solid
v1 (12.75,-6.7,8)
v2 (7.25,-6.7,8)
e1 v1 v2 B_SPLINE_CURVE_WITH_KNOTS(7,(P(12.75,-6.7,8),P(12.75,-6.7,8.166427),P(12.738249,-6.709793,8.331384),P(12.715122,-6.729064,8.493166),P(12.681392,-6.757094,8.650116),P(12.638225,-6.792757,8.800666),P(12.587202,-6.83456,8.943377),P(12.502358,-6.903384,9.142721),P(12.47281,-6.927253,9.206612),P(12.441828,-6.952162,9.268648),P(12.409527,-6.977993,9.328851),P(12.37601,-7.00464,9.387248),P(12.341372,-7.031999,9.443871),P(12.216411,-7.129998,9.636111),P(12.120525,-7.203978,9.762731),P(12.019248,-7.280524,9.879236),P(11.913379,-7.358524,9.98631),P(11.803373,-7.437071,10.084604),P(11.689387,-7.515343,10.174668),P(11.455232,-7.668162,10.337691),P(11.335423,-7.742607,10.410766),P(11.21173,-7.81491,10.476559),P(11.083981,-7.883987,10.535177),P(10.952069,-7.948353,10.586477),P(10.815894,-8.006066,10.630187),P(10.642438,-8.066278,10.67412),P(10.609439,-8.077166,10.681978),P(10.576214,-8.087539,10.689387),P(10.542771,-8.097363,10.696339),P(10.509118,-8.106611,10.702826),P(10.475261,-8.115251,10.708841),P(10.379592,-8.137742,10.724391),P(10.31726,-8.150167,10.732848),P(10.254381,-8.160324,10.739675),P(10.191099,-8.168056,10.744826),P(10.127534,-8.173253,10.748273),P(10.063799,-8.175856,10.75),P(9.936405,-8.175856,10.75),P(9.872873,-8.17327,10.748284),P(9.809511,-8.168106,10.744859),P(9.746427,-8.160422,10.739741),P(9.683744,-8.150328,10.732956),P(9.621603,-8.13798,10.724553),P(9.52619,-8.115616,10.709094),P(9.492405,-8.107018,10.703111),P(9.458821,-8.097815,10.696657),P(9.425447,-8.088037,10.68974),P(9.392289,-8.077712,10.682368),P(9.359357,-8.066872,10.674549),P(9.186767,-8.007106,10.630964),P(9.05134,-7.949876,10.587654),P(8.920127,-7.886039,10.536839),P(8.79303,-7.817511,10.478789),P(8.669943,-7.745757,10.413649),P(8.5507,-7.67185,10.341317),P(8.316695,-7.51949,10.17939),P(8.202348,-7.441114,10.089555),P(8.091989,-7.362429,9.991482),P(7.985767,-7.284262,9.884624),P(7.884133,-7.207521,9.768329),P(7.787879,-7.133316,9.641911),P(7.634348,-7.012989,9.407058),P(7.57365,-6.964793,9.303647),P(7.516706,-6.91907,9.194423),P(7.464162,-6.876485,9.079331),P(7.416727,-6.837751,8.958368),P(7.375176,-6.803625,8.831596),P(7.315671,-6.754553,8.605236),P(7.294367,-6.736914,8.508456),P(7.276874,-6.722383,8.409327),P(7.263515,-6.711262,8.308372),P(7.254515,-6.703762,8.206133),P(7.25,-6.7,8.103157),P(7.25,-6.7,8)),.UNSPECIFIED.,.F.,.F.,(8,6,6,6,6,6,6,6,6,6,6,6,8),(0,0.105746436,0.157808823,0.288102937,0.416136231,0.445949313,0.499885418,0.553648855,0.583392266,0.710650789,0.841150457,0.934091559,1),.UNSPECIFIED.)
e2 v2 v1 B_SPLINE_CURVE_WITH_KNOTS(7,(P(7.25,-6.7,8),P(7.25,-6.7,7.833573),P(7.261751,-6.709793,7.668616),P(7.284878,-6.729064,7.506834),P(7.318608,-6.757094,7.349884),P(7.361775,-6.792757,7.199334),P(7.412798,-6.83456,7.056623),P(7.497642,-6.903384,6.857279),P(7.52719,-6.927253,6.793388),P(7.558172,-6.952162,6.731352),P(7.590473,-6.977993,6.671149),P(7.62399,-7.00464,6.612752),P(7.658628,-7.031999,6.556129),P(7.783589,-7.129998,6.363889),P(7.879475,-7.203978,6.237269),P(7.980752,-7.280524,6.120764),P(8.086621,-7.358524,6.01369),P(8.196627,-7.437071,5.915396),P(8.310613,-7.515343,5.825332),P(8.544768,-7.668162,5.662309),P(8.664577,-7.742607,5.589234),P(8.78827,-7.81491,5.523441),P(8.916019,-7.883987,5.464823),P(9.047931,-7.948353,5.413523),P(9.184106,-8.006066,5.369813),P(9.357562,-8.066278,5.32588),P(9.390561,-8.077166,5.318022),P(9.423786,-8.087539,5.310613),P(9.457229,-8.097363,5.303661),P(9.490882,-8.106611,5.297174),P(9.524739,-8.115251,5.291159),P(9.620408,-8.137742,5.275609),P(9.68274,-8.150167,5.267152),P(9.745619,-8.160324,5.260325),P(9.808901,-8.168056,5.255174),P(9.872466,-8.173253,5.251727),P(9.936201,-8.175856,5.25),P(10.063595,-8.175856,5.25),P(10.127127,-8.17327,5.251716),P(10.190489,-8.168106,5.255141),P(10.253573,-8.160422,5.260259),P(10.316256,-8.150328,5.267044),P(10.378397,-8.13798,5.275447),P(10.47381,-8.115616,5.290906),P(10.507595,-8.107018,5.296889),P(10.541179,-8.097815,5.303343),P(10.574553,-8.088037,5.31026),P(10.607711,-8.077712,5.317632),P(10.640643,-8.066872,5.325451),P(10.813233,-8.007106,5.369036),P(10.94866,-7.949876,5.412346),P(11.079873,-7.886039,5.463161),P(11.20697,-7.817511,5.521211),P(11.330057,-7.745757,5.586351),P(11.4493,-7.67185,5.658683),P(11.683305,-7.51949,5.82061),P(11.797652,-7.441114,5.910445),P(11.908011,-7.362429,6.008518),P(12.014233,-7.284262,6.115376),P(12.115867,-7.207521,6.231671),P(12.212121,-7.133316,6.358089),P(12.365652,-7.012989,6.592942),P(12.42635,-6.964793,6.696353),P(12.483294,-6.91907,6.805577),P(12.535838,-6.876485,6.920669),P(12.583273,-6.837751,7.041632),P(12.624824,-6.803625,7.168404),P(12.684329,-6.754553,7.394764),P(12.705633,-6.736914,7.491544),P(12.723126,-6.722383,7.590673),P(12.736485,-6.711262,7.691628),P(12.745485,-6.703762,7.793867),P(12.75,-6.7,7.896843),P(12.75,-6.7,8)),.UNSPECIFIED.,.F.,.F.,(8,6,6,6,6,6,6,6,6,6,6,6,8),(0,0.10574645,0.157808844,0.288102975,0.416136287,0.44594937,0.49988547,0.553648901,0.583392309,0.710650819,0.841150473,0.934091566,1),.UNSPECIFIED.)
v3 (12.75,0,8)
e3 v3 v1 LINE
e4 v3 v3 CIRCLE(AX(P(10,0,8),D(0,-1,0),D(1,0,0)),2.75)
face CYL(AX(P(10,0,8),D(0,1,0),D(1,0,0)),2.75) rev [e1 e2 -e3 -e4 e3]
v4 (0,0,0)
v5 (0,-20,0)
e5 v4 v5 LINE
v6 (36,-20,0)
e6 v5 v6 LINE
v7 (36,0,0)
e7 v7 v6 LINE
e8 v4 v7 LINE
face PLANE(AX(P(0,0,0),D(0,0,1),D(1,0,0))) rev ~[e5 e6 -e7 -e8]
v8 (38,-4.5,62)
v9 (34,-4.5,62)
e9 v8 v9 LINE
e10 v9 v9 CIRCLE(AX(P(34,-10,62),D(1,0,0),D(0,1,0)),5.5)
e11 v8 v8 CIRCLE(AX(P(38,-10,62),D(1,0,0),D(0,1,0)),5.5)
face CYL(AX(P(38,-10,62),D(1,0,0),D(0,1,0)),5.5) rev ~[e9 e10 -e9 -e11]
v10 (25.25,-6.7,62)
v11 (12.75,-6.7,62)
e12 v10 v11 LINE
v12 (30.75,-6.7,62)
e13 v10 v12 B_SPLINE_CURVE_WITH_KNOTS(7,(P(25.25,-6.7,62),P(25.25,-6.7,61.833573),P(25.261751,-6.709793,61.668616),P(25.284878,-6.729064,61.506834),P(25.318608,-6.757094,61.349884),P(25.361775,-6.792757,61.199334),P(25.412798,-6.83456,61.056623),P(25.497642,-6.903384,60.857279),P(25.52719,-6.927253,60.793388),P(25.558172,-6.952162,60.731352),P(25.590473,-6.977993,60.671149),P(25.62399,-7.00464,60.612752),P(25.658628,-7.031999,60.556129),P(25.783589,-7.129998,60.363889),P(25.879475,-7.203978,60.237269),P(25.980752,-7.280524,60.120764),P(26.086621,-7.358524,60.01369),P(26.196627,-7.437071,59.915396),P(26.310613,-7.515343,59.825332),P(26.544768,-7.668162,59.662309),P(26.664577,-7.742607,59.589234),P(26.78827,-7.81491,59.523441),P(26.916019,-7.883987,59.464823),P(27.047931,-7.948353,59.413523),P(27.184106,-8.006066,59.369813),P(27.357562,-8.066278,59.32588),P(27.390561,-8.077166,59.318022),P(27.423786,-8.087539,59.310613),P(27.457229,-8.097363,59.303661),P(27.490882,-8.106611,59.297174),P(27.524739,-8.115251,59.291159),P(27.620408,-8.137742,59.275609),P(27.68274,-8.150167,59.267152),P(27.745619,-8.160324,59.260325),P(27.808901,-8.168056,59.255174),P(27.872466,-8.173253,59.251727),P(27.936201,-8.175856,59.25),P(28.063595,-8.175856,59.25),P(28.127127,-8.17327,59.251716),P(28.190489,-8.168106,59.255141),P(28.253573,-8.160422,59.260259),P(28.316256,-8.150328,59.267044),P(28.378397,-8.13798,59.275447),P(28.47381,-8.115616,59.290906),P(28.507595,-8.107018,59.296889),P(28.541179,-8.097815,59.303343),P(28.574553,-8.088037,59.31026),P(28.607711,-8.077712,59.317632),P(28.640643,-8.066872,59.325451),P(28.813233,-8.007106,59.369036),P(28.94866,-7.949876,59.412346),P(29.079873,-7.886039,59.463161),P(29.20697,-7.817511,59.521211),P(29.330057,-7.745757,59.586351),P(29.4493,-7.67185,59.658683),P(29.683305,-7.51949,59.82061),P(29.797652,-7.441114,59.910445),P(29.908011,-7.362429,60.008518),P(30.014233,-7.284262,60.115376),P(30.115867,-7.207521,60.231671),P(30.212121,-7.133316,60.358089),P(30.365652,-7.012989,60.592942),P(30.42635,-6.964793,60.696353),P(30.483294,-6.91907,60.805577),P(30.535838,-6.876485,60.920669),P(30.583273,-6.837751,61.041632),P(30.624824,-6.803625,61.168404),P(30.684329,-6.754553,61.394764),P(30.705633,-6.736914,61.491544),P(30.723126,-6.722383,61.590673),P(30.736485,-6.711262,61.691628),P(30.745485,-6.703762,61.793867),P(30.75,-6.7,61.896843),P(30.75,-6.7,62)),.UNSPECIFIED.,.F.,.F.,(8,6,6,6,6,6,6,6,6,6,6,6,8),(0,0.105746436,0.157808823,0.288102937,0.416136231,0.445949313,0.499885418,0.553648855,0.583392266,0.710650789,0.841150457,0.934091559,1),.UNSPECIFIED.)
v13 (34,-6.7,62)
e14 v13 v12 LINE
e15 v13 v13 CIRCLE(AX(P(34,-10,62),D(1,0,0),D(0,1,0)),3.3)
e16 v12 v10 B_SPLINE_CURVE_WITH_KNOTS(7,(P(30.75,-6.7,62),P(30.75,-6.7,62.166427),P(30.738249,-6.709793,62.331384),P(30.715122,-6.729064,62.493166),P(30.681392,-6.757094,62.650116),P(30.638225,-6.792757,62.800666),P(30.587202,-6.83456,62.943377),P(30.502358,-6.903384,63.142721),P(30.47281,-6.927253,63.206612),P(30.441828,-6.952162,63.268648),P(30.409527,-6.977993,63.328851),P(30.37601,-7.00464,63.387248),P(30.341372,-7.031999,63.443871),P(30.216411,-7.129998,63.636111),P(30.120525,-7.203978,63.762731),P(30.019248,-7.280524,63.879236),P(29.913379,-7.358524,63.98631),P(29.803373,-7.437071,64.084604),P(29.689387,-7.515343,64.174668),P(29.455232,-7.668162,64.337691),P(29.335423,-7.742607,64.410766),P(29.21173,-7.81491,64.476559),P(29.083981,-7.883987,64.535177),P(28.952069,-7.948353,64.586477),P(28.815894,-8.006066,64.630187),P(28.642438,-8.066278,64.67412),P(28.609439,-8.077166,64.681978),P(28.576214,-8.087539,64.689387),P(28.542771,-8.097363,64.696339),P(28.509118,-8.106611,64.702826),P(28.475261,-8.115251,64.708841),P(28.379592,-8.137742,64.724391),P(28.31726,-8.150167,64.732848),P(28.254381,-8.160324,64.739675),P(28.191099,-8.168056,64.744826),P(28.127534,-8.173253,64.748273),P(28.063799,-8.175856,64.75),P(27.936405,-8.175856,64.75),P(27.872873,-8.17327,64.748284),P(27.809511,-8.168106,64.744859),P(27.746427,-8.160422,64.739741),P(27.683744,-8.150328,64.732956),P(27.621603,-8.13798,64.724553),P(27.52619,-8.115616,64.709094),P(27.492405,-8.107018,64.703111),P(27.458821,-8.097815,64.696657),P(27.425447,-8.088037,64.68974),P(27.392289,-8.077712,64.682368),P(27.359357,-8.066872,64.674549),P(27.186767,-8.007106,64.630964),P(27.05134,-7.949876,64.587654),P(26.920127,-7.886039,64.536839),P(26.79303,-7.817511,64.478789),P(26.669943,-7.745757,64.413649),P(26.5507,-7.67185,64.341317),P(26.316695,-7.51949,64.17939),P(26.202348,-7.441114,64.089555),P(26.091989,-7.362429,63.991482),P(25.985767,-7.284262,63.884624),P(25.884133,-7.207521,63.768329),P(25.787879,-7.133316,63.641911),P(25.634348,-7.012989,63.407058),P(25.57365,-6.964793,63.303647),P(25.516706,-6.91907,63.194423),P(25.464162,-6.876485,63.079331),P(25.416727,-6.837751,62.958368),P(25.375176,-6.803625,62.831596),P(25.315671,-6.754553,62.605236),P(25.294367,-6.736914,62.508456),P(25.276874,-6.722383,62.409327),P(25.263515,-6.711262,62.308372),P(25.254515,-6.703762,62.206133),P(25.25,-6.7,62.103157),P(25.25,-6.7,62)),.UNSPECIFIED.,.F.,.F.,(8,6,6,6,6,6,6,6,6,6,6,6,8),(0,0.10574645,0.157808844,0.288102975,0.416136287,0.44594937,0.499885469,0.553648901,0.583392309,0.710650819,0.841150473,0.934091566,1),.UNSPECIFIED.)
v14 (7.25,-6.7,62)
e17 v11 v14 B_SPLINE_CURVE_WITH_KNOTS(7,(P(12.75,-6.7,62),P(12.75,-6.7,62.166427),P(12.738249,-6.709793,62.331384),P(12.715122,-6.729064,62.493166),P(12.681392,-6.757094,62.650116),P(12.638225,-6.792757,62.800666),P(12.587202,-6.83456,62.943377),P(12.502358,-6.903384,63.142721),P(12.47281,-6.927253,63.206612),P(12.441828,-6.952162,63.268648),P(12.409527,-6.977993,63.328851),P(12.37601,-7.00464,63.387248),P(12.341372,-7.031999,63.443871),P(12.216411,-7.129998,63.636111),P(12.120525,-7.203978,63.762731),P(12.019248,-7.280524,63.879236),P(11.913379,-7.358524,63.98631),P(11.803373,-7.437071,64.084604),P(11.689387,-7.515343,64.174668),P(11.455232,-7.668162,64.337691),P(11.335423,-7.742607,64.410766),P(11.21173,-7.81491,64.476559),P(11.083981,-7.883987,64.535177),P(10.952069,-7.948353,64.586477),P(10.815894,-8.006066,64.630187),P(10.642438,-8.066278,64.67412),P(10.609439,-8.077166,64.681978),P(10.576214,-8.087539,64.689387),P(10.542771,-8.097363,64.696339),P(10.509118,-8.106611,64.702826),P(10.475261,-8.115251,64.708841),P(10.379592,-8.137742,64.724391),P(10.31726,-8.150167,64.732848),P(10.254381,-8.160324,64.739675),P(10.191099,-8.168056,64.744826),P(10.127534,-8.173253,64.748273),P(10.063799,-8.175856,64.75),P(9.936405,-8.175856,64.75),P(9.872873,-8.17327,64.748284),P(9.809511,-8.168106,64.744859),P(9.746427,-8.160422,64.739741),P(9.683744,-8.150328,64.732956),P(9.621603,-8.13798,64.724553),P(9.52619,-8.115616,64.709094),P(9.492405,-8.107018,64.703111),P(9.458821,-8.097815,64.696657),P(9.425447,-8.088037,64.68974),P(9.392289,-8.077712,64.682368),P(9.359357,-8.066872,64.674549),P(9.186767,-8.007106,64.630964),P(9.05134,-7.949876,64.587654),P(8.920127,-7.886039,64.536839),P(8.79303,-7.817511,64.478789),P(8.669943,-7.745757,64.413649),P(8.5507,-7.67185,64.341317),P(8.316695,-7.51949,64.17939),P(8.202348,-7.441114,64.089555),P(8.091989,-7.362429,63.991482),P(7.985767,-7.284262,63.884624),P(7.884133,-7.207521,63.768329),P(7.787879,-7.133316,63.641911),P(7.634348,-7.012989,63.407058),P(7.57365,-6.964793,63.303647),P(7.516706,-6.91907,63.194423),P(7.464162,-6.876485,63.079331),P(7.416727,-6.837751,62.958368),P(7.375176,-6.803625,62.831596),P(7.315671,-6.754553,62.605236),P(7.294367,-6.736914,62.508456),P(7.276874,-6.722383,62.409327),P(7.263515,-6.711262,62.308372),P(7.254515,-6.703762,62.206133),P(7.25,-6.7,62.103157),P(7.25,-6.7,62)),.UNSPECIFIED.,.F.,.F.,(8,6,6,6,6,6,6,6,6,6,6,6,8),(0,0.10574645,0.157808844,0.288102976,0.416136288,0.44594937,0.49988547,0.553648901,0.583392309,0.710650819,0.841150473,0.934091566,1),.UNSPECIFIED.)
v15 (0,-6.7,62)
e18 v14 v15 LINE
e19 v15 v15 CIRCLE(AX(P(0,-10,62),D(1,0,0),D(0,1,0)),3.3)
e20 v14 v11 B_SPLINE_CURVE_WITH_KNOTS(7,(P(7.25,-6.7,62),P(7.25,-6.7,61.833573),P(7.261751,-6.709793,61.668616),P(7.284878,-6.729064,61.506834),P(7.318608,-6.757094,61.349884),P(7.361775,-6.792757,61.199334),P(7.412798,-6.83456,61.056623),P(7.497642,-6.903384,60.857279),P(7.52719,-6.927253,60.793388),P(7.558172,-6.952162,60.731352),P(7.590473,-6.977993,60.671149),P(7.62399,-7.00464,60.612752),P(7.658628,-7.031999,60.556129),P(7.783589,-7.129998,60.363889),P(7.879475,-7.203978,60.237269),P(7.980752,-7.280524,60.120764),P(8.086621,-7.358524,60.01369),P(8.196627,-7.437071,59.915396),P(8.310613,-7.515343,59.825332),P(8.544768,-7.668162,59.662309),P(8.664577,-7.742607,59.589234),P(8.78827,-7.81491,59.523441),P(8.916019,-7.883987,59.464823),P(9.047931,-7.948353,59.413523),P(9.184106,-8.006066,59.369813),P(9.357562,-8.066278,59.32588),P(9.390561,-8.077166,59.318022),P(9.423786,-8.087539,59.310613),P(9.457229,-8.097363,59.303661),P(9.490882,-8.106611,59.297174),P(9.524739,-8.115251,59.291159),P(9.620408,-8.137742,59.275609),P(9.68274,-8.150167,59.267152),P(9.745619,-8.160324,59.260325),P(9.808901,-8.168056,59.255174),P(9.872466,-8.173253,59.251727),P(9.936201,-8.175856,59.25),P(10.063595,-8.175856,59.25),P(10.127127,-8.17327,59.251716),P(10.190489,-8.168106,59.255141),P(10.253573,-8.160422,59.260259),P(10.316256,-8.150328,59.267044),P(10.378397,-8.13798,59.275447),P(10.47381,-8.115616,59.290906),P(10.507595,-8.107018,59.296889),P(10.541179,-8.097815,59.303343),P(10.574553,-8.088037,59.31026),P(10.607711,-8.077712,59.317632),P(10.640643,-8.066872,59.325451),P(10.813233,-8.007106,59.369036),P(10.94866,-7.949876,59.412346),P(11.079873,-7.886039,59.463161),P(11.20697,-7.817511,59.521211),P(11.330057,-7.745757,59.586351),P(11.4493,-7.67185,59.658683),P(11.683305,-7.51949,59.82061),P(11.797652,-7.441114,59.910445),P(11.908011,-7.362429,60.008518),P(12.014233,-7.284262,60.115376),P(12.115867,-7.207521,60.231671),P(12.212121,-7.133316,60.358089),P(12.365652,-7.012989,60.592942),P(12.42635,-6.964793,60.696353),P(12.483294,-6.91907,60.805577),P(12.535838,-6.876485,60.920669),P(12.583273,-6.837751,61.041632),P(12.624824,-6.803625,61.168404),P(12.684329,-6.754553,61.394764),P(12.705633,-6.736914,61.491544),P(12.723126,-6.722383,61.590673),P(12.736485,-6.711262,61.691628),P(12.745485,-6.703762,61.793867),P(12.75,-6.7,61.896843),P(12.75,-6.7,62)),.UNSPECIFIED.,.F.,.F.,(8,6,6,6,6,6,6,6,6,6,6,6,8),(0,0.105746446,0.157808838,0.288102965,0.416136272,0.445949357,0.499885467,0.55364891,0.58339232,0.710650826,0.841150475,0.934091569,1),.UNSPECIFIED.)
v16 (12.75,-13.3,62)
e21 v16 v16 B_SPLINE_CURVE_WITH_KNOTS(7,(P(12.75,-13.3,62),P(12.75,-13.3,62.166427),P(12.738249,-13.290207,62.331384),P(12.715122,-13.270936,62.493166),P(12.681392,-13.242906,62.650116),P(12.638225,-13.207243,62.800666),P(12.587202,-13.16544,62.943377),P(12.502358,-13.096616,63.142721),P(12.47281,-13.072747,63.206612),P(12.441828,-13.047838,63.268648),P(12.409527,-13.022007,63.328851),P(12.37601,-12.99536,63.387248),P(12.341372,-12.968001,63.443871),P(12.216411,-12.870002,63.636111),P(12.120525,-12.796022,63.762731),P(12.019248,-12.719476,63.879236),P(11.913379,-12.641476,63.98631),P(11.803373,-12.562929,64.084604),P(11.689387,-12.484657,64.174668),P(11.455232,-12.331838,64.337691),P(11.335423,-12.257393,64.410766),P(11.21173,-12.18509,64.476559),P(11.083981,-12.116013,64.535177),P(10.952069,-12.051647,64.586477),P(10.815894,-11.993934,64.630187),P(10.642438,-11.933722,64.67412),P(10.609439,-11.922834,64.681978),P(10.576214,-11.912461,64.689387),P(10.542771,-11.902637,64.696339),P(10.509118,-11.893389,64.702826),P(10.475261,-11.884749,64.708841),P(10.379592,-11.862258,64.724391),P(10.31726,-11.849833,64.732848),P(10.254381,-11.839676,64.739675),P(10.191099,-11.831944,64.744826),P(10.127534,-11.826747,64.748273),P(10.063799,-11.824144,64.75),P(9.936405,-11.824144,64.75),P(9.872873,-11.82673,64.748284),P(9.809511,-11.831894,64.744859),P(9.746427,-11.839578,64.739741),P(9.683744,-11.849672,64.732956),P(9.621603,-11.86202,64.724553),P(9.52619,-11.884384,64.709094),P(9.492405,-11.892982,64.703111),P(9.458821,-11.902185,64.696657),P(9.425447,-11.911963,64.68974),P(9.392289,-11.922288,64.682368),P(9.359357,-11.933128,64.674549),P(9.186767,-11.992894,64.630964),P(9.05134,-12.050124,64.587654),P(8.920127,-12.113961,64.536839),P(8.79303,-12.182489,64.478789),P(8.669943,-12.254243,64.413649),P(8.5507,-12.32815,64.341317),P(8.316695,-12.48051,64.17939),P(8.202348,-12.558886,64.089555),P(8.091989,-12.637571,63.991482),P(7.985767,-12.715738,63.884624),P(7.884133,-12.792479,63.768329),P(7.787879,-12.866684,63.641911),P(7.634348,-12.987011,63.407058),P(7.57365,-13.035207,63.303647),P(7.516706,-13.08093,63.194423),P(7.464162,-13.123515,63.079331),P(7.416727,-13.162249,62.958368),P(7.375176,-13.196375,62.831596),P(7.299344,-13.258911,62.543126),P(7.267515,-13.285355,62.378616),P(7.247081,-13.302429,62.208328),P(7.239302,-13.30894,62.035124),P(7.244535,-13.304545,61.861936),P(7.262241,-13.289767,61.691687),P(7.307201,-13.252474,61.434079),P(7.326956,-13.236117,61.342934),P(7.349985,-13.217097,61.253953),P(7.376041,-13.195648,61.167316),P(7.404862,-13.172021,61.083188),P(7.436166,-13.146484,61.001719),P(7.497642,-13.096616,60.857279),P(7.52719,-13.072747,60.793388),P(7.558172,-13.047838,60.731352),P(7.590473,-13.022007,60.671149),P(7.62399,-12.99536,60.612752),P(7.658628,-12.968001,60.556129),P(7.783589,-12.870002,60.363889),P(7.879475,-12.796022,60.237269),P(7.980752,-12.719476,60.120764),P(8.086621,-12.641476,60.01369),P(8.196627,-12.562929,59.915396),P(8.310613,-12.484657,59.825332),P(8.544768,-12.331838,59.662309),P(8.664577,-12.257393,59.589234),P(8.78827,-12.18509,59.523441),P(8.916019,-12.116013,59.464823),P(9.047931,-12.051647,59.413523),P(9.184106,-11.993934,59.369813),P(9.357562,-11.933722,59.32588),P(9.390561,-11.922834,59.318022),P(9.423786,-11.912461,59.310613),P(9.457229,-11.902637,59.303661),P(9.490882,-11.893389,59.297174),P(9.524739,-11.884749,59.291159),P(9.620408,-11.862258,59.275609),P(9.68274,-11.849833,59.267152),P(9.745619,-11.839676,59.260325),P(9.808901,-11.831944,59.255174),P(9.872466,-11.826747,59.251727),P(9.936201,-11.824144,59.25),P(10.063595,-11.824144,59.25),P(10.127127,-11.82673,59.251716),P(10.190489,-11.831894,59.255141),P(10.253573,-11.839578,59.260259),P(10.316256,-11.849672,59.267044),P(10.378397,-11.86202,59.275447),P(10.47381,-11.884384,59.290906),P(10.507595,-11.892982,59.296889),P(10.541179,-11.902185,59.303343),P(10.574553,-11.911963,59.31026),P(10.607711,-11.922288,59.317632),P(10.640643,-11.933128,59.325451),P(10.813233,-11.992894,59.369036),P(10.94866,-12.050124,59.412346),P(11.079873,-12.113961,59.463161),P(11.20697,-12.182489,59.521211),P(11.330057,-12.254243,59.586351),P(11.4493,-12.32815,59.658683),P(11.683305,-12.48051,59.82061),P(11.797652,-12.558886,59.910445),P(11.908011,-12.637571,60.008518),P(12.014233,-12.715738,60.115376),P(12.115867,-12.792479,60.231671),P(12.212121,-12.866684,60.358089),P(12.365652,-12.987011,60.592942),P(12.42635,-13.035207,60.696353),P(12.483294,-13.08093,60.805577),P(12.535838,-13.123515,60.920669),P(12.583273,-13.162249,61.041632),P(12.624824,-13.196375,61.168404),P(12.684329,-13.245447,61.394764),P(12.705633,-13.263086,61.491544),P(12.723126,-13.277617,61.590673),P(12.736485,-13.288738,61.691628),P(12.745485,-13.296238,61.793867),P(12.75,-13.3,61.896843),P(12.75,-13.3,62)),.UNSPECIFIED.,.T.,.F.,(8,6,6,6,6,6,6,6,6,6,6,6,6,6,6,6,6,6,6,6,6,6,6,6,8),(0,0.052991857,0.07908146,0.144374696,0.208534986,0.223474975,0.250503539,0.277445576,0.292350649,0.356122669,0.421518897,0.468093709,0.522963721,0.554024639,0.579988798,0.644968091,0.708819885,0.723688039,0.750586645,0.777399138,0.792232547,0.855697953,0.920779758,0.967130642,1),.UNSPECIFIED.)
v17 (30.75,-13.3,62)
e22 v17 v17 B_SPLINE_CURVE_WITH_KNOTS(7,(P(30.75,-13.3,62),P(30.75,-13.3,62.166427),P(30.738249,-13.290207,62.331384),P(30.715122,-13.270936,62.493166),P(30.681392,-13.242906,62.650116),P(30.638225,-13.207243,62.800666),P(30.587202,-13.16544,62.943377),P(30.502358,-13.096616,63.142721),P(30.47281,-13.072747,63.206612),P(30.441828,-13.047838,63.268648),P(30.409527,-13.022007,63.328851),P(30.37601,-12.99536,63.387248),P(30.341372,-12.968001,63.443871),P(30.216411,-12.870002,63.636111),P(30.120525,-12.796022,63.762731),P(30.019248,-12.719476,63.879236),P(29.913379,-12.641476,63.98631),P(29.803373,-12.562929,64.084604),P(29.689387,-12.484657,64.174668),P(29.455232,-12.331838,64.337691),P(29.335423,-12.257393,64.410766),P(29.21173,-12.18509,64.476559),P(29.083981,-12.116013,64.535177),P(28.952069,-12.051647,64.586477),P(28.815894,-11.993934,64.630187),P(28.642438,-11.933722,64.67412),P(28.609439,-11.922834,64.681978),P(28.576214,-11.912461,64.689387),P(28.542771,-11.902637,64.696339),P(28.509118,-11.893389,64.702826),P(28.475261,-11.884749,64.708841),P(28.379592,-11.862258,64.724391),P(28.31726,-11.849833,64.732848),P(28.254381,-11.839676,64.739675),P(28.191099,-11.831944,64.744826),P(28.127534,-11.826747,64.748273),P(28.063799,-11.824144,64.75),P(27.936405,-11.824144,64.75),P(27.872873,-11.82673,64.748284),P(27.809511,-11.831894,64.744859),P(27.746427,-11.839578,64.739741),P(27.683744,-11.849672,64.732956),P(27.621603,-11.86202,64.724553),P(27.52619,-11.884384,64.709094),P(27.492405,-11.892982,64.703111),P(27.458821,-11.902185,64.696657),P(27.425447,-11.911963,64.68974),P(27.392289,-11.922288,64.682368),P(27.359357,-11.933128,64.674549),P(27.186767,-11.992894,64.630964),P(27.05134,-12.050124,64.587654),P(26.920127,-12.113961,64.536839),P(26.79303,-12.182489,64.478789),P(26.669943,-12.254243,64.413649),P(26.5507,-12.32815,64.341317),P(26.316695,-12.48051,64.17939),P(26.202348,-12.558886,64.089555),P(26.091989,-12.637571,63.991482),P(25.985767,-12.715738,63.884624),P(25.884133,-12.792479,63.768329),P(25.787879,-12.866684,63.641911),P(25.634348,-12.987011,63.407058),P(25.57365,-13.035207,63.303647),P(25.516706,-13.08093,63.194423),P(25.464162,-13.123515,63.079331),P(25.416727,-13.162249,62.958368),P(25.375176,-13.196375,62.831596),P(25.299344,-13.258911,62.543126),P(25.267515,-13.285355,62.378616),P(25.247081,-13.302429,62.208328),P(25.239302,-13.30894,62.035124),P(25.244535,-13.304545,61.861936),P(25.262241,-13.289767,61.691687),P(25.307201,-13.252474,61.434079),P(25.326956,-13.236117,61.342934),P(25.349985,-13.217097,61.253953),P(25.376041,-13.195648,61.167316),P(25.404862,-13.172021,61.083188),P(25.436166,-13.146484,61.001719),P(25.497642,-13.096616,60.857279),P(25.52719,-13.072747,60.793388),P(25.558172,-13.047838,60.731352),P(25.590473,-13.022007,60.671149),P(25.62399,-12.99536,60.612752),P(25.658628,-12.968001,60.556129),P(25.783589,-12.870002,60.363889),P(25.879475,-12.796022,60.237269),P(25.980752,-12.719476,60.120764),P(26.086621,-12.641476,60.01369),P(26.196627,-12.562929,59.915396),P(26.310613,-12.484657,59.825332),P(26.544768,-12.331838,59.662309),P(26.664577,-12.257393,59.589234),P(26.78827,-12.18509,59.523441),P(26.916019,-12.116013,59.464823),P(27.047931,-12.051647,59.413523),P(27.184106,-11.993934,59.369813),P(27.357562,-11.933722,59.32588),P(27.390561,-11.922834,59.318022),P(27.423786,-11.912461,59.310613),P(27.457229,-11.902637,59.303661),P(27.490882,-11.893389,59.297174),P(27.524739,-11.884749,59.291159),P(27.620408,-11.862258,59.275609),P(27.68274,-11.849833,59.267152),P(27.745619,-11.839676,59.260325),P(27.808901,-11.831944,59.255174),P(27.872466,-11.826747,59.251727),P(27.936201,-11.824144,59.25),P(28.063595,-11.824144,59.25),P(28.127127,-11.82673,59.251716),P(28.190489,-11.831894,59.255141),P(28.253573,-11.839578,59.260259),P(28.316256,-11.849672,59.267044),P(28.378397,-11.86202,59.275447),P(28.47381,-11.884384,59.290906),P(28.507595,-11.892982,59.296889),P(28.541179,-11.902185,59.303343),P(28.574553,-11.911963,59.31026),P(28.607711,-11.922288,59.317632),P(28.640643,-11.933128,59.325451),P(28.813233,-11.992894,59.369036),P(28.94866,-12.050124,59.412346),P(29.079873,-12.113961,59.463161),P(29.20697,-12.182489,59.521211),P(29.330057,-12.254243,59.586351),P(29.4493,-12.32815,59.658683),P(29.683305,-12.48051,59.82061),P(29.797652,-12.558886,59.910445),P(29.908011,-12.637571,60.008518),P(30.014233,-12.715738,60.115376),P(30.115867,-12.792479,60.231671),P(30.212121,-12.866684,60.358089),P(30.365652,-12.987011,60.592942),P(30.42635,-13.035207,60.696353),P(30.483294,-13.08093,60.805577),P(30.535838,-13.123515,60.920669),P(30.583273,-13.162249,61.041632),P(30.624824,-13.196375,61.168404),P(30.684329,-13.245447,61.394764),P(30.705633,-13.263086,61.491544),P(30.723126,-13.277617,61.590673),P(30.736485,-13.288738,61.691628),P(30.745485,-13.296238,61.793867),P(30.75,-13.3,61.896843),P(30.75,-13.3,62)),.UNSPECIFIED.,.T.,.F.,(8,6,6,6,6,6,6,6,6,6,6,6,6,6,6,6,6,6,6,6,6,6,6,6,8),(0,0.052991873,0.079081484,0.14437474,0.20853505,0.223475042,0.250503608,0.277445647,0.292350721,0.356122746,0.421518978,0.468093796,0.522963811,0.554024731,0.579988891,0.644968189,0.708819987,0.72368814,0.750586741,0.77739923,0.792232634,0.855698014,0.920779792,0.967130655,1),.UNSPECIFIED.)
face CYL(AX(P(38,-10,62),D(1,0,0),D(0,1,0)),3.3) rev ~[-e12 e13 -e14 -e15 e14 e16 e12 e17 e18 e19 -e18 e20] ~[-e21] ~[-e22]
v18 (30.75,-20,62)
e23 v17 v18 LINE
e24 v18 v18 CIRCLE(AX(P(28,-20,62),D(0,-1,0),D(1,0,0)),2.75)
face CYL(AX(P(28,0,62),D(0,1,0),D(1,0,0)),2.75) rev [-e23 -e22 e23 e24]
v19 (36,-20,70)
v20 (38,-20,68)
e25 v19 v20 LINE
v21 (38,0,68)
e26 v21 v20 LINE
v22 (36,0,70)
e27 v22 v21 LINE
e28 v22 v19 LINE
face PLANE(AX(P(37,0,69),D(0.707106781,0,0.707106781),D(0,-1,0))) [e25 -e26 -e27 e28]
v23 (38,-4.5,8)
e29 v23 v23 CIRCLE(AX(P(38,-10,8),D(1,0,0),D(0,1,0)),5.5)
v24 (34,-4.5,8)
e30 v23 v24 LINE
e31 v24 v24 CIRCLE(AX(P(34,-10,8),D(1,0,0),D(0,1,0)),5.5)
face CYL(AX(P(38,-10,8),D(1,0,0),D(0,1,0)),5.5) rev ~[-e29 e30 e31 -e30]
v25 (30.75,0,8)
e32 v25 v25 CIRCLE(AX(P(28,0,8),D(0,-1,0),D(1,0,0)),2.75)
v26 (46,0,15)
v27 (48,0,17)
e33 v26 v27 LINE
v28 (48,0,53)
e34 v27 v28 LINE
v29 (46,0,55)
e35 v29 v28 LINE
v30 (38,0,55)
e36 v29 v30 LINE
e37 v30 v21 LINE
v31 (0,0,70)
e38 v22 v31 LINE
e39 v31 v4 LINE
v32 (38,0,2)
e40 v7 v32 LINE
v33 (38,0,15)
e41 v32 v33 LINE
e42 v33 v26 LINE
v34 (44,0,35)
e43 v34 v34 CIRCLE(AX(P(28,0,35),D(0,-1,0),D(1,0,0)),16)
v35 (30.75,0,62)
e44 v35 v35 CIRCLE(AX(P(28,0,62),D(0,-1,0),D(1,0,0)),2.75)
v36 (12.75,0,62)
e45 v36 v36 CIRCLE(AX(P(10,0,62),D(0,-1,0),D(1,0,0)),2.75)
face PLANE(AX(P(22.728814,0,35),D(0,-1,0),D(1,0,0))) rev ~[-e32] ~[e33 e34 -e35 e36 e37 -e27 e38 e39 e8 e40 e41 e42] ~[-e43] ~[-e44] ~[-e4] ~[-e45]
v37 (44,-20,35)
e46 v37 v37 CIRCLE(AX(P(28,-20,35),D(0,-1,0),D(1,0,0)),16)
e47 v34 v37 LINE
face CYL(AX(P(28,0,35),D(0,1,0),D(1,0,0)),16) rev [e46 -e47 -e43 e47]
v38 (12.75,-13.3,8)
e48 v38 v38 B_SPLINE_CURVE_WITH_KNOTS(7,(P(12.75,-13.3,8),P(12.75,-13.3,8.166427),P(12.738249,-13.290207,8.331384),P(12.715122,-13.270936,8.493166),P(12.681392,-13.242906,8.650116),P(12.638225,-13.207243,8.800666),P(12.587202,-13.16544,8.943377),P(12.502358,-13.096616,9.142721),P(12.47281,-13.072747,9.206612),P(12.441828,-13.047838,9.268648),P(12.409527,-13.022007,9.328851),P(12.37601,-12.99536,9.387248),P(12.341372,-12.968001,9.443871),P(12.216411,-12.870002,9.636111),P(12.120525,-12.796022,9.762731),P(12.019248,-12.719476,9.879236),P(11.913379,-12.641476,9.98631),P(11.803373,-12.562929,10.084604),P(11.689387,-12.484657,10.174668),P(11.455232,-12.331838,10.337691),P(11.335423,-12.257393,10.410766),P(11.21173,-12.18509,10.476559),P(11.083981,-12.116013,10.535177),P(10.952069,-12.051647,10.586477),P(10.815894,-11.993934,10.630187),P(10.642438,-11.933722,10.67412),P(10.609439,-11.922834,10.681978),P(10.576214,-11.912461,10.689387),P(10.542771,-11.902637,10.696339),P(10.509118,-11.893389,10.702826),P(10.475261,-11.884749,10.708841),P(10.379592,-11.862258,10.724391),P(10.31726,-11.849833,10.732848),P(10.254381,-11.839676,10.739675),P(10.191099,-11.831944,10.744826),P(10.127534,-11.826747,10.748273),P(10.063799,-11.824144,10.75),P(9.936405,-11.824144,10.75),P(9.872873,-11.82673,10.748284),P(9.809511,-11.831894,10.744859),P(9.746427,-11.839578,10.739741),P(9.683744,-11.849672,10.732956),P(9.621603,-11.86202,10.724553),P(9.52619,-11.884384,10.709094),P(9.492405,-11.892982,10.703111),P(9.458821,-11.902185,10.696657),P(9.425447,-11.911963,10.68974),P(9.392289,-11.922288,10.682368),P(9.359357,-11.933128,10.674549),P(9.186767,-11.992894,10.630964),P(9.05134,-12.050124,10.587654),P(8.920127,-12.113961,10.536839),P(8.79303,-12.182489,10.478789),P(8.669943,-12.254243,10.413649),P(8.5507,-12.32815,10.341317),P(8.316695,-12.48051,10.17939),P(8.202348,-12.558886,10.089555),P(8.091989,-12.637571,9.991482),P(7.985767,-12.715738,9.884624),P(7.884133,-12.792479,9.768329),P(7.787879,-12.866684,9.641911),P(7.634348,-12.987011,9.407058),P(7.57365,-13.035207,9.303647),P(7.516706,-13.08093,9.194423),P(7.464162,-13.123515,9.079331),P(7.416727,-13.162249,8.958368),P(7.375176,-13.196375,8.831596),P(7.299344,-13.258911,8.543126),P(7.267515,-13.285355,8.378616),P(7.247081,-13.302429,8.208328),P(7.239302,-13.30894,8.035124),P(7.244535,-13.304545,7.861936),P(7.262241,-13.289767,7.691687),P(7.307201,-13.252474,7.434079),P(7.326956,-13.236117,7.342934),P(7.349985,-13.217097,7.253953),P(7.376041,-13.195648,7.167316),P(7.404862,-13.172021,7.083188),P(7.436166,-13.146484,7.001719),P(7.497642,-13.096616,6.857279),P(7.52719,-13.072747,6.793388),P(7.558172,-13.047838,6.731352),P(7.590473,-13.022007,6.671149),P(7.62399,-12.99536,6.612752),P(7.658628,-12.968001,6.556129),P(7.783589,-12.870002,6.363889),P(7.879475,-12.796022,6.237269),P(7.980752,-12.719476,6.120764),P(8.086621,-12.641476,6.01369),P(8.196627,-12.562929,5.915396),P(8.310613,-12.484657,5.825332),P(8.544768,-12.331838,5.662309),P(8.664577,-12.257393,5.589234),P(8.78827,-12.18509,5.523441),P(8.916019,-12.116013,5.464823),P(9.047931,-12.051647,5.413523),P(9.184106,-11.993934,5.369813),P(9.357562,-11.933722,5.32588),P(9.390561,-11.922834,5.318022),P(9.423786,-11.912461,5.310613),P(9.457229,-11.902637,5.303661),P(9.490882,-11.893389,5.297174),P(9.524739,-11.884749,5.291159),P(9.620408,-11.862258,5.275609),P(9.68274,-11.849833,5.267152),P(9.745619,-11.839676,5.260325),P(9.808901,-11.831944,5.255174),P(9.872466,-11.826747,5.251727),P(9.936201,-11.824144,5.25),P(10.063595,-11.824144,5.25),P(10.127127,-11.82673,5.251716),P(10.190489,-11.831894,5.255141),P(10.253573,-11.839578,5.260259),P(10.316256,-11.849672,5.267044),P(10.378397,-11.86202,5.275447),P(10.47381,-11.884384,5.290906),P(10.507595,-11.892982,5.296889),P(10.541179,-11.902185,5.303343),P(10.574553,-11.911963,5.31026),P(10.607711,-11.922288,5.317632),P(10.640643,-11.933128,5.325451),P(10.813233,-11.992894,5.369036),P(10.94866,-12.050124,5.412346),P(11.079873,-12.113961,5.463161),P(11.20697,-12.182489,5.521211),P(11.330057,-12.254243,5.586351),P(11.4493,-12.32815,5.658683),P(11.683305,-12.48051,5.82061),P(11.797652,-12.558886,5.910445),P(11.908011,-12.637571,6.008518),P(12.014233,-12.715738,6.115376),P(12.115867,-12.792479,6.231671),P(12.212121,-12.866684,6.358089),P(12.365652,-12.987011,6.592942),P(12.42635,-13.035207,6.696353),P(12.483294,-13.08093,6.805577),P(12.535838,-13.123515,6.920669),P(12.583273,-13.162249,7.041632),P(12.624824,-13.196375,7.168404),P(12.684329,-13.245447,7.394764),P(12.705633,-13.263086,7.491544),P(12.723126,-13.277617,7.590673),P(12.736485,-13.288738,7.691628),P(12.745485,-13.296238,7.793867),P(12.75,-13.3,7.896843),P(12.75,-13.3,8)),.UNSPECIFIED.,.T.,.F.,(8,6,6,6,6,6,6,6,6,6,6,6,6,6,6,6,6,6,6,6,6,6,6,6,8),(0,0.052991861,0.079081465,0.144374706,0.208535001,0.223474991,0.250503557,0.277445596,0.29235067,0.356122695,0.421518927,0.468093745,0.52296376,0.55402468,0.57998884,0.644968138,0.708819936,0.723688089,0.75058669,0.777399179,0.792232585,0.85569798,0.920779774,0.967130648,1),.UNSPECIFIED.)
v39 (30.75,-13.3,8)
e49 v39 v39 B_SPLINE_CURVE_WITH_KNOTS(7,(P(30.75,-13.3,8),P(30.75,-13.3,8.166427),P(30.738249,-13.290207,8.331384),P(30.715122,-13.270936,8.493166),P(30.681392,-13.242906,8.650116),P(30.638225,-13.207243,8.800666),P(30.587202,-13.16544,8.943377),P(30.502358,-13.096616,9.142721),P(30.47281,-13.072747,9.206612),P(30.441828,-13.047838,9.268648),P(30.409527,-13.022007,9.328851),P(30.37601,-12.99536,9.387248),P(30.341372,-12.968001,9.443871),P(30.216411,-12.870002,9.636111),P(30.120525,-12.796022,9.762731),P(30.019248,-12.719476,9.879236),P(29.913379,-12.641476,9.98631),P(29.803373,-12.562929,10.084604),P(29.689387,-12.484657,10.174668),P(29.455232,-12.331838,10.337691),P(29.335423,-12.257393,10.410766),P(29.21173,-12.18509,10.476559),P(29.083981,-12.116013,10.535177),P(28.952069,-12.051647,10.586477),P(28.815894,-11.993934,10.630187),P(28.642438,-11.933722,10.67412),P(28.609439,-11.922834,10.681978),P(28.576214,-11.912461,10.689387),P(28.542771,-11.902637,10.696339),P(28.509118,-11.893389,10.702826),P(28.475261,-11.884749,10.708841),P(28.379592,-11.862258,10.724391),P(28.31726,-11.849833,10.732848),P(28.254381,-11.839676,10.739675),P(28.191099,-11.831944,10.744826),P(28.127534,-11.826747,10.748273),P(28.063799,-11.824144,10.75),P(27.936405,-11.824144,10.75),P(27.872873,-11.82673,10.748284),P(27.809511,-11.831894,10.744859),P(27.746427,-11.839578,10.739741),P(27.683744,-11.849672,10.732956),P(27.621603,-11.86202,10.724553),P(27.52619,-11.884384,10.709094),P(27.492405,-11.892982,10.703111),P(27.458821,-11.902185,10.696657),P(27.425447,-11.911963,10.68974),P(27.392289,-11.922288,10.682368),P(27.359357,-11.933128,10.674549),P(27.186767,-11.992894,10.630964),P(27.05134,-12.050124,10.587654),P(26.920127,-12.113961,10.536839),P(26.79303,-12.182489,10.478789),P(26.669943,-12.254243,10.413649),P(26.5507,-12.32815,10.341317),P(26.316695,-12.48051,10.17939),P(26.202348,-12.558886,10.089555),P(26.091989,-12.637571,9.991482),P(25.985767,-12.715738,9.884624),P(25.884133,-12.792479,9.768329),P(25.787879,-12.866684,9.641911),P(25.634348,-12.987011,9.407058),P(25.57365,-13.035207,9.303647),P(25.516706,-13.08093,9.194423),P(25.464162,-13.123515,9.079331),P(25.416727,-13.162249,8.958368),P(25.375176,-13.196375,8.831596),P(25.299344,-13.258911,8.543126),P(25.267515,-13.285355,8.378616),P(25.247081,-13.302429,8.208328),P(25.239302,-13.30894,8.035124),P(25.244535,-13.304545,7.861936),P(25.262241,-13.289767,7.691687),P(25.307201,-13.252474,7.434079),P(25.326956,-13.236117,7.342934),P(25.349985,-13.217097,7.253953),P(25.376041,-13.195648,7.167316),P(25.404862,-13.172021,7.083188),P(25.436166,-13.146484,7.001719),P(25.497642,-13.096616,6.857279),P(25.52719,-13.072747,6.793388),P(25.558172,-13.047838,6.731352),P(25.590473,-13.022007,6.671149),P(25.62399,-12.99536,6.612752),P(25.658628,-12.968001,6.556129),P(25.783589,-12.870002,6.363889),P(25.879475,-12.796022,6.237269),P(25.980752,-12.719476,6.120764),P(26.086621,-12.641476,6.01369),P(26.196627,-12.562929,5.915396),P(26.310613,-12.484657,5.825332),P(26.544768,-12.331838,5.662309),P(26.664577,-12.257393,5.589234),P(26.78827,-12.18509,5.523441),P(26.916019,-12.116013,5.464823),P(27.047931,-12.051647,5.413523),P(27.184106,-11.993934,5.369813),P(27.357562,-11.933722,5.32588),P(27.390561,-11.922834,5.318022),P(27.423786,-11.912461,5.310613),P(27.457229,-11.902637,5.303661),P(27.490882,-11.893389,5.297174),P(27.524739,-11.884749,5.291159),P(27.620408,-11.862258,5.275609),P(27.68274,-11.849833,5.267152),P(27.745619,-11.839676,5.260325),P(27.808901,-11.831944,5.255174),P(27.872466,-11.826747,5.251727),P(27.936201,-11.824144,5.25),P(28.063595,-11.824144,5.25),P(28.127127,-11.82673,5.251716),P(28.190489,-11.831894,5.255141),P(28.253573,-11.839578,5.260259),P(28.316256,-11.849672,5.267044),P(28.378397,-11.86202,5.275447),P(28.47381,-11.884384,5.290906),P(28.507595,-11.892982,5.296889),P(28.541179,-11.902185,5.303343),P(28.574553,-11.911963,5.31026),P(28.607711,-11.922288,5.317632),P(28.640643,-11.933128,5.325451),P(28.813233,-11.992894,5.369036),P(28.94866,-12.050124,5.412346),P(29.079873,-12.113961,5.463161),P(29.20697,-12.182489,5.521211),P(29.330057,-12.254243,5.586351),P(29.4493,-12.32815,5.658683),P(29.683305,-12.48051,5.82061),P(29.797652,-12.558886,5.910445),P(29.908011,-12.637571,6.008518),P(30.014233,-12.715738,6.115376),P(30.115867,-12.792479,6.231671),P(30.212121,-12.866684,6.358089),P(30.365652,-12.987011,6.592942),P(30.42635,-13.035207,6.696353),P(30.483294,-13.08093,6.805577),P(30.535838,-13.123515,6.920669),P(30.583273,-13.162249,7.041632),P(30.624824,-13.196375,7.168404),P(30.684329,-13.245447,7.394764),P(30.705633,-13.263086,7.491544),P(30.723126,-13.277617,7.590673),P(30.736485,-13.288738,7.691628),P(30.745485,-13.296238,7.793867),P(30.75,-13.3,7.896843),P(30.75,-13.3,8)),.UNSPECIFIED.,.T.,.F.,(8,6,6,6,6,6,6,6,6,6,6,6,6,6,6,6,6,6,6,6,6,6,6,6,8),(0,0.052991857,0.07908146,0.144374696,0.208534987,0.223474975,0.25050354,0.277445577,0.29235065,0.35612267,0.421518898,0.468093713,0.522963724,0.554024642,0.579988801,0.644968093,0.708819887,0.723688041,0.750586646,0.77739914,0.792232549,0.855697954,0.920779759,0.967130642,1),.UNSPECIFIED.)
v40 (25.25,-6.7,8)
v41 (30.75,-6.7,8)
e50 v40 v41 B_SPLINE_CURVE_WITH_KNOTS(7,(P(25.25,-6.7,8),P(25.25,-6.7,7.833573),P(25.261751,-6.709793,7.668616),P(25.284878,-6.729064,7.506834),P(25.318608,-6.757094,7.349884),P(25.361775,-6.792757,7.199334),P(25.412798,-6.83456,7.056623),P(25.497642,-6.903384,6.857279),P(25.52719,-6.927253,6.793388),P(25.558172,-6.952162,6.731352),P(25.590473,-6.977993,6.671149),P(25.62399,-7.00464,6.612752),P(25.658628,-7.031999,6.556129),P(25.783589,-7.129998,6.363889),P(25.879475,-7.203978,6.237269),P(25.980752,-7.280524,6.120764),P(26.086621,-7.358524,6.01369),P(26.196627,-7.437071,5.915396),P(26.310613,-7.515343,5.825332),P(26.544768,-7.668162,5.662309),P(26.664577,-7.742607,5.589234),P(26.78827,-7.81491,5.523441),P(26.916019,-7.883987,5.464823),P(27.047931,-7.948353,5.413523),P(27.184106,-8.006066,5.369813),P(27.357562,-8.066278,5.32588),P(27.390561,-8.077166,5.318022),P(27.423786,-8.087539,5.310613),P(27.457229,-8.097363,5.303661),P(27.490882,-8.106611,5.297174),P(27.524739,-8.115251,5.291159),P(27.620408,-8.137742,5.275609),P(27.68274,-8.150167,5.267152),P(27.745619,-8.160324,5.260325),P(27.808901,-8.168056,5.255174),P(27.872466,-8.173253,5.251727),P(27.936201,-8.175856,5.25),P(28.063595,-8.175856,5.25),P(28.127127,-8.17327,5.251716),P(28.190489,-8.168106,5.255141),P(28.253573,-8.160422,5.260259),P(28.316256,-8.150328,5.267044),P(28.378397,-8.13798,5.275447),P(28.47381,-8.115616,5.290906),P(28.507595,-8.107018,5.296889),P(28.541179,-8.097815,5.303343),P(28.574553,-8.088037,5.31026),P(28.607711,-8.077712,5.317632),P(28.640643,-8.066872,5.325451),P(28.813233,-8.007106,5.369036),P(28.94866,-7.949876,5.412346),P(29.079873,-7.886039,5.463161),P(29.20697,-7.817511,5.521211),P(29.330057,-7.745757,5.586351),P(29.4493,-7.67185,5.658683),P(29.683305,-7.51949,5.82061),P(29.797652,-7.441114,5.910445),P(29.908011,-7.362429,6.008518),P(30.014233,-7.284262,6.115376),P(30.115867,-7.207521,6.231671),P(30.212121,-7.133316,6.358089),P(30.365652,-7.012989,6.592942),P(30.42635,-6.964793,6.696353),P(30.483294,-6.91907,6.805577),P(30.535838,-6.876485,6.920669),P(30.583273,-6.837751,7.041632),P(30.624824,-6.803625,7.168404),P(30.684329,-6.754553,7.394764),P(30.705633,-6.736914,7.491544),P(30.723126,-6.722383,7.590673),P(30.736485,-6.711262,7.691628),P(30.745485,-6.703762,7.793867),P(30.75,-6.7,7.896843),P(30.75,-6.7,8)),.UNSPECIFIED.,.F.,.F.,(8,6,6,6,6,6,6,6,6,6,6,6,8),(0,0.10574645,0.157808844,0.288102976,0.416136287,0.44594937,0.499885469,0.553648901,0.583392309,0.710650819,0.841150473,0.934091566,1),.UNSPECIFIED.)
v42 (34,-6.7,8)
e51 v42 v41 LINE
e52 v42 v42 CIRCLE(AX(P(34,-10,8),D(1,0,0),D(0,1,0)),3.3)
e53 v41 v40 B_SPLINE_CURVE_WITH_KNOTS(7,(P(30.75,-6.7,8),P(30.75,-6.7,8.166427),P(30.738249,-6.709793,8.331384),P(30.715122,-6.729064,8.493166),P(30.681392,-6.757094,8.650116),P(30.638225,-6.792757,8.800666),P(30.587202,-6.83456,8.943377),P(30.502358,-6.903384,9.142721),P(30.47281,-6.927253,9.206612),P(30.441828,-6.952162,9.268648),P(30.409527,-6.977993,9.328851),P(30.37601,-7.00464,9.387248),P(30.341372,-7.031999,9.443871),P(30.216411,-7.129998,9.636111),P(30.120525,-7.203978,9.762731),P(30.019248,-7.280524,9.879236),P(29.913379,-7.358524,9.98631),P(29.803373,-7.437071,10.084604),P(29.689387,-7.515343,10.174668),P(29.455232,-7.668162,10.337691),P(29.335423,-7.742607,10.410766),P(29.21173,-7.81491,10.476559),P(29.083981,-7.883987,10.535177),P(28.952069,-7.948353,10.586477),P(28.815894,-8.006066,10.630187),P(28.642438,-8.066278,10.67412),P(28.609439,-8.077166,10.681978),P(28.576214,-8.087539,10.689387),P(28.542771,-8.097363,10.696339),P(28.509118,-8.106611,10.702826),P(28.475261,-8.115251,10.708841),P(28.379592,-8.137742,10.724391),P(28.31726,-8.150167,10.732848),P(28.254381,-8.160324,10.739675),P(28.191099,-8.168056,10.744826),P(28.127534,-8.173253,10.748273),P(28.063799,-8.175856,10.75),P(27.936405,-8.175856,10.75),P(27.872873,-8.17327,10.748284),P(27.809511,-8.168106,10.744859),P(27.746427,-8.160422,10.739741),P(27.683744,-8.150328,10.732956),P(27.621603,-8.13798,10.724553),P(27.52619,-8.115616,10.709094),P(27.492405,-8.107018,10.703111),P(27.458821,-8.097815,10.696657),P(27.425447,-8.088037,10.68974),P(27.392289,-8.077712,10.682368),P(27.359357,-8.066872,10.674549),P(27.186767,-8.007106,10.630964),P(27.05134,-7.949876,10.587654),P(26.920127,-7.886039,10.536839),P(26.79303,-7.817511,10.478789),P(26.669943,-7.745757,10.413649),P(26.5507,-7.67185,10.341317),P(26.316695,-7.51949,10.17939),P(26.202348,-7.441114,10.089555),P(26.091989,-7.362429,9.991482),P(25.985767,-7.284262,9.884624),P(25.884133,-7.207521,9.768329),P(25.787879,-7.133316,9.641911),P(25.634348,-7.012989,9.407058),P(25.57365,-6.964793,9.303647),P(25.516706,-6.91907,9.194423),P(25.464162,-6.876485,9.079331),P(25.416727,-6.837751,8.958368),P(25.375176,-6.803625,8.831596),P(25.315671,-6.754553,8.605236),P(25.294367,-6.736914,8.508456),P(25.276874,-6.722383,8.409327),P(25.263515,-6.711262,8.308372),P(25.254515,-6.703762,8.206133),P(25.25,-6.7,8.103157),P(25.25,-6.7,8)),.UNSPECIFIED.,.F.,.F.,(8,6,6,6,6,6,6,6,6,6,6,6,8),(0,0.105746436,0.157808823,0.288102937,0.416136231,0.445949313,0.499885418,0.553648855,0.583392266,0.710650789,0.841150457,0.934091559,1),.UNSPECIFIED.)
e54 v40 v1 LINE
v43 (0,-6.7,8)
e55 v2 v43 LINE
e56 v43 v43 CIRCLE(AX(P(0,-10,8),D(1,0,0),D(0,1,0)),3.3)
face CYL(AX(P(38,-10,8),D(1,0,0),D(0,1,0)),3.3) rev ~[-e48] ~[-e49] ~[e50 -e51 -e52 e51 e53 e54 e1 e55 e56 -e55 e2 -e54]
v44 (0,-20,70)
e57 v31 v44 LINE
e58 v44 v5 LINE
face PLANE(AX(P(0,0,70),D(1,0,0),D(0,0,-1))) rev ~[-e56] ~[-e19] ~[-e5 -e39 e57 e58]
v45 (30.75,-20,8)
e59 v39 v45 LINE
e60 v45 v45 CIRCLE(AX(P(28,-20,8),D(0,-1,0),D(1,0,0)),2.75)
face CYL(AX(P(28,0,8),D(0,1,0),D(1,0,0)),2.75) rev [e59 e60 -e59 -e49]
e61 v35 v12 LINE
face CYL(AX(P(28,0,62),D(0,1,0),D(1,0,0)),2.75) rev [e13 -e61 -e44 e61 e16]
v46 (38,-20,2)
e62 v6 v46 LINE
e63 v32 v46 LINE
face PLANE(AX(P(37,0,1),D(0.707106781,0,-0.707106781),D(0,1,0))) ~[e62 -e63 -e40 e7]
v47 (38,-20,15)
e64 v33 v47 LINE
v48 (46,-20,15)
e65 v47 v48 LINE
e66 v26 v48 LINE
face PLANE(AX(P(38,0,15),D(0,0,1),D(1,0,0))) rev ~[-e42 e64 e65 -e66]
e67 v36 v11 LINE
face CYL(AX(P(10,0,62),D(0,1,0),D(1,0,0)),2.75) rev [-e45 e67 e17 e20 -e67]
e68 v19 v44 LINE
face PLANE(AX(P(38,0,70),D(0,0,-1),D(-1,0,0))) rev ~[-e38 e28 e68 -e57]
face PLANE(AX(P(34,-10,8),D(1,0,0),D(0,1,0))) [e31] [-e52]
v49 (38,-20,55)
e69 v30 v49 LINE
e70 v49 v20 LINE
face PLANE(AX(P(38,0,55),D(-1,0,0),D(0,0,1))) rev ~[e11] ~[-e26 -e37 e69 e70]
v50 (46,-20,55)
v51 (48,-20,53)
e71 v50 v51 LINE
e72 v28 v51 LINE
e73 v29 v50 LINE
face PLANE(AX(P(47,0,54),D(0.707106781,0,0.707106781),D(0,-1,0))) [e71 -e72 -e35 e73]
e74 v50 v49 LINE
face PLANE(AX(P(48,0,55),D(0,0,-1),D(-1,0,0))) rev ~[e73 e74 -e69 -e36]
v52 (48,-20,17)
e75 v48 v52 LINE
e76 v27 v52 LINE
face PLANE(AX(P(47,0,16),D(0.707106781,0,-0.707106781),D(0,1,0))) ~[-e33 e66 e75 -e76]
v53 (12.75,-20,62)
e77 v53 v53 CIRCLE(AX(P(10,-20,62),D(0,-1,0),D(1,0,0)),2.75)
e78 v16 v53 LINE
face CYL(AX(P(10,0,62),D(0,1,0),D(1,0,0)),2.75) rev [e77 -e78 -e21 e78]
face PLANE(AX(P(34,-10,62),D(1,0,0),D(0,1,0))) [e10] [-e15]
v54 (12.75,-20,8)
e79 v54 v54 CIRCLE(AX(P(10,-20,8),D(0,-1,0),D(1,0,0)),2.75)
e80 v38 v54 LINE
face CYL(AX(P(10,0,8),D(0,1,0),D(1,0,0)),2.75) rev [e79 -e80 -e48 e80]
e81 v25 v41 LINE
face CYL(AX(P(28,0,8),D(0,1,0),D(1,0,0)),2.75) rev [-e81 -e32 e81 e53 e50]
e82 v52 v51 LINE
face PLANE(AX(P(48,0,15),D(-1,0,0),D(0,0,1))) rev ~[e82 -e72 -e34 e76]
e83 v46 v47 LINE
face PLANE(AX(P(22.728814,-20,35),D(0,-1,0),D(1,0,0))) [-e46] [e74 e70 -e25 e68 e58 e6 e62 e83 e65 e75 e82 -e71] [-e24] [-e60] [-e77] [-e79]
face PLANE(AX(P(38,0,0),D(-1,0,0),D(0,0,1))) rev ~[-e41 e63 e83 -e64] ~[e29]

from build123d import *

# Parameters (mm, degrees)
F0_R     = 2.75
F0_R_2   = 16
F1_DEPTH = 20
F2_R     = 3.3
F3_DEPTH = 38
F4_R     = 5.5
F5_DEPTH = 4
F6_SIZE  = 2


with BuildPart() as f1:
    # F0 (on Front) → F1 (new body)
    with BuildSketch(Plane.XZ):
        Polygon((0, 70), (0, 0), (38, 0), (38, 15), (48, 15), (48, 55), (38, 55), (38, 70), align=None)
        with Locations((10, 8)):
            Circle(F0_R, mode=Mode.SUBTRACT)
        with Locations((28, 8)):
            Circle(F0_R, mode=Mode.SUBTRACT)
        with Locations((10, 62)):
            Circle(F0_R, mode=Mode.SUBTRACT)
        with Locations((28, 35)):
            Circle(F0_R_2, mode=Mode.SUBTRACT)
        with Locations((28, 62)):
            Circle(F0_R, mode=Mode.SUBTRACT)
    extrude(amount=F1_DEPTH)

    # F2 (on face) → F3 (cut)
    with BuildSketch(Plane.YZ.offset(38)):
        with Locations((-10, 62)):
            Circle(F2_R)
        with Locations((-10, 8)):
            Circle(F2_R)
    extrude(amount=-F3_DEPTH, mode=Mode.SUBTRACT)

    # F4 (on face) → F5 (cut)
    with BuildSketch(Plane.YZ.offset(38)):
        with Locations((-10, 62)):
            Circle(F4_R)
        with Locations((-10, 8)):
            Circle(F4_R)
    extrude(amount=-F5_DEPTH, mode=Mode.SUBTRACT)

    # F6
    f6_edges = [f1.edges().sort_by_distance(p)[0] for p in [
        (38, -10, 70),
        (48, -10, 55),
        (38, -10, 0),
        (48, -10, 15),
    ]]
    chamfer(f6_edges, length=F6_SIZE)


solid = f1.part
